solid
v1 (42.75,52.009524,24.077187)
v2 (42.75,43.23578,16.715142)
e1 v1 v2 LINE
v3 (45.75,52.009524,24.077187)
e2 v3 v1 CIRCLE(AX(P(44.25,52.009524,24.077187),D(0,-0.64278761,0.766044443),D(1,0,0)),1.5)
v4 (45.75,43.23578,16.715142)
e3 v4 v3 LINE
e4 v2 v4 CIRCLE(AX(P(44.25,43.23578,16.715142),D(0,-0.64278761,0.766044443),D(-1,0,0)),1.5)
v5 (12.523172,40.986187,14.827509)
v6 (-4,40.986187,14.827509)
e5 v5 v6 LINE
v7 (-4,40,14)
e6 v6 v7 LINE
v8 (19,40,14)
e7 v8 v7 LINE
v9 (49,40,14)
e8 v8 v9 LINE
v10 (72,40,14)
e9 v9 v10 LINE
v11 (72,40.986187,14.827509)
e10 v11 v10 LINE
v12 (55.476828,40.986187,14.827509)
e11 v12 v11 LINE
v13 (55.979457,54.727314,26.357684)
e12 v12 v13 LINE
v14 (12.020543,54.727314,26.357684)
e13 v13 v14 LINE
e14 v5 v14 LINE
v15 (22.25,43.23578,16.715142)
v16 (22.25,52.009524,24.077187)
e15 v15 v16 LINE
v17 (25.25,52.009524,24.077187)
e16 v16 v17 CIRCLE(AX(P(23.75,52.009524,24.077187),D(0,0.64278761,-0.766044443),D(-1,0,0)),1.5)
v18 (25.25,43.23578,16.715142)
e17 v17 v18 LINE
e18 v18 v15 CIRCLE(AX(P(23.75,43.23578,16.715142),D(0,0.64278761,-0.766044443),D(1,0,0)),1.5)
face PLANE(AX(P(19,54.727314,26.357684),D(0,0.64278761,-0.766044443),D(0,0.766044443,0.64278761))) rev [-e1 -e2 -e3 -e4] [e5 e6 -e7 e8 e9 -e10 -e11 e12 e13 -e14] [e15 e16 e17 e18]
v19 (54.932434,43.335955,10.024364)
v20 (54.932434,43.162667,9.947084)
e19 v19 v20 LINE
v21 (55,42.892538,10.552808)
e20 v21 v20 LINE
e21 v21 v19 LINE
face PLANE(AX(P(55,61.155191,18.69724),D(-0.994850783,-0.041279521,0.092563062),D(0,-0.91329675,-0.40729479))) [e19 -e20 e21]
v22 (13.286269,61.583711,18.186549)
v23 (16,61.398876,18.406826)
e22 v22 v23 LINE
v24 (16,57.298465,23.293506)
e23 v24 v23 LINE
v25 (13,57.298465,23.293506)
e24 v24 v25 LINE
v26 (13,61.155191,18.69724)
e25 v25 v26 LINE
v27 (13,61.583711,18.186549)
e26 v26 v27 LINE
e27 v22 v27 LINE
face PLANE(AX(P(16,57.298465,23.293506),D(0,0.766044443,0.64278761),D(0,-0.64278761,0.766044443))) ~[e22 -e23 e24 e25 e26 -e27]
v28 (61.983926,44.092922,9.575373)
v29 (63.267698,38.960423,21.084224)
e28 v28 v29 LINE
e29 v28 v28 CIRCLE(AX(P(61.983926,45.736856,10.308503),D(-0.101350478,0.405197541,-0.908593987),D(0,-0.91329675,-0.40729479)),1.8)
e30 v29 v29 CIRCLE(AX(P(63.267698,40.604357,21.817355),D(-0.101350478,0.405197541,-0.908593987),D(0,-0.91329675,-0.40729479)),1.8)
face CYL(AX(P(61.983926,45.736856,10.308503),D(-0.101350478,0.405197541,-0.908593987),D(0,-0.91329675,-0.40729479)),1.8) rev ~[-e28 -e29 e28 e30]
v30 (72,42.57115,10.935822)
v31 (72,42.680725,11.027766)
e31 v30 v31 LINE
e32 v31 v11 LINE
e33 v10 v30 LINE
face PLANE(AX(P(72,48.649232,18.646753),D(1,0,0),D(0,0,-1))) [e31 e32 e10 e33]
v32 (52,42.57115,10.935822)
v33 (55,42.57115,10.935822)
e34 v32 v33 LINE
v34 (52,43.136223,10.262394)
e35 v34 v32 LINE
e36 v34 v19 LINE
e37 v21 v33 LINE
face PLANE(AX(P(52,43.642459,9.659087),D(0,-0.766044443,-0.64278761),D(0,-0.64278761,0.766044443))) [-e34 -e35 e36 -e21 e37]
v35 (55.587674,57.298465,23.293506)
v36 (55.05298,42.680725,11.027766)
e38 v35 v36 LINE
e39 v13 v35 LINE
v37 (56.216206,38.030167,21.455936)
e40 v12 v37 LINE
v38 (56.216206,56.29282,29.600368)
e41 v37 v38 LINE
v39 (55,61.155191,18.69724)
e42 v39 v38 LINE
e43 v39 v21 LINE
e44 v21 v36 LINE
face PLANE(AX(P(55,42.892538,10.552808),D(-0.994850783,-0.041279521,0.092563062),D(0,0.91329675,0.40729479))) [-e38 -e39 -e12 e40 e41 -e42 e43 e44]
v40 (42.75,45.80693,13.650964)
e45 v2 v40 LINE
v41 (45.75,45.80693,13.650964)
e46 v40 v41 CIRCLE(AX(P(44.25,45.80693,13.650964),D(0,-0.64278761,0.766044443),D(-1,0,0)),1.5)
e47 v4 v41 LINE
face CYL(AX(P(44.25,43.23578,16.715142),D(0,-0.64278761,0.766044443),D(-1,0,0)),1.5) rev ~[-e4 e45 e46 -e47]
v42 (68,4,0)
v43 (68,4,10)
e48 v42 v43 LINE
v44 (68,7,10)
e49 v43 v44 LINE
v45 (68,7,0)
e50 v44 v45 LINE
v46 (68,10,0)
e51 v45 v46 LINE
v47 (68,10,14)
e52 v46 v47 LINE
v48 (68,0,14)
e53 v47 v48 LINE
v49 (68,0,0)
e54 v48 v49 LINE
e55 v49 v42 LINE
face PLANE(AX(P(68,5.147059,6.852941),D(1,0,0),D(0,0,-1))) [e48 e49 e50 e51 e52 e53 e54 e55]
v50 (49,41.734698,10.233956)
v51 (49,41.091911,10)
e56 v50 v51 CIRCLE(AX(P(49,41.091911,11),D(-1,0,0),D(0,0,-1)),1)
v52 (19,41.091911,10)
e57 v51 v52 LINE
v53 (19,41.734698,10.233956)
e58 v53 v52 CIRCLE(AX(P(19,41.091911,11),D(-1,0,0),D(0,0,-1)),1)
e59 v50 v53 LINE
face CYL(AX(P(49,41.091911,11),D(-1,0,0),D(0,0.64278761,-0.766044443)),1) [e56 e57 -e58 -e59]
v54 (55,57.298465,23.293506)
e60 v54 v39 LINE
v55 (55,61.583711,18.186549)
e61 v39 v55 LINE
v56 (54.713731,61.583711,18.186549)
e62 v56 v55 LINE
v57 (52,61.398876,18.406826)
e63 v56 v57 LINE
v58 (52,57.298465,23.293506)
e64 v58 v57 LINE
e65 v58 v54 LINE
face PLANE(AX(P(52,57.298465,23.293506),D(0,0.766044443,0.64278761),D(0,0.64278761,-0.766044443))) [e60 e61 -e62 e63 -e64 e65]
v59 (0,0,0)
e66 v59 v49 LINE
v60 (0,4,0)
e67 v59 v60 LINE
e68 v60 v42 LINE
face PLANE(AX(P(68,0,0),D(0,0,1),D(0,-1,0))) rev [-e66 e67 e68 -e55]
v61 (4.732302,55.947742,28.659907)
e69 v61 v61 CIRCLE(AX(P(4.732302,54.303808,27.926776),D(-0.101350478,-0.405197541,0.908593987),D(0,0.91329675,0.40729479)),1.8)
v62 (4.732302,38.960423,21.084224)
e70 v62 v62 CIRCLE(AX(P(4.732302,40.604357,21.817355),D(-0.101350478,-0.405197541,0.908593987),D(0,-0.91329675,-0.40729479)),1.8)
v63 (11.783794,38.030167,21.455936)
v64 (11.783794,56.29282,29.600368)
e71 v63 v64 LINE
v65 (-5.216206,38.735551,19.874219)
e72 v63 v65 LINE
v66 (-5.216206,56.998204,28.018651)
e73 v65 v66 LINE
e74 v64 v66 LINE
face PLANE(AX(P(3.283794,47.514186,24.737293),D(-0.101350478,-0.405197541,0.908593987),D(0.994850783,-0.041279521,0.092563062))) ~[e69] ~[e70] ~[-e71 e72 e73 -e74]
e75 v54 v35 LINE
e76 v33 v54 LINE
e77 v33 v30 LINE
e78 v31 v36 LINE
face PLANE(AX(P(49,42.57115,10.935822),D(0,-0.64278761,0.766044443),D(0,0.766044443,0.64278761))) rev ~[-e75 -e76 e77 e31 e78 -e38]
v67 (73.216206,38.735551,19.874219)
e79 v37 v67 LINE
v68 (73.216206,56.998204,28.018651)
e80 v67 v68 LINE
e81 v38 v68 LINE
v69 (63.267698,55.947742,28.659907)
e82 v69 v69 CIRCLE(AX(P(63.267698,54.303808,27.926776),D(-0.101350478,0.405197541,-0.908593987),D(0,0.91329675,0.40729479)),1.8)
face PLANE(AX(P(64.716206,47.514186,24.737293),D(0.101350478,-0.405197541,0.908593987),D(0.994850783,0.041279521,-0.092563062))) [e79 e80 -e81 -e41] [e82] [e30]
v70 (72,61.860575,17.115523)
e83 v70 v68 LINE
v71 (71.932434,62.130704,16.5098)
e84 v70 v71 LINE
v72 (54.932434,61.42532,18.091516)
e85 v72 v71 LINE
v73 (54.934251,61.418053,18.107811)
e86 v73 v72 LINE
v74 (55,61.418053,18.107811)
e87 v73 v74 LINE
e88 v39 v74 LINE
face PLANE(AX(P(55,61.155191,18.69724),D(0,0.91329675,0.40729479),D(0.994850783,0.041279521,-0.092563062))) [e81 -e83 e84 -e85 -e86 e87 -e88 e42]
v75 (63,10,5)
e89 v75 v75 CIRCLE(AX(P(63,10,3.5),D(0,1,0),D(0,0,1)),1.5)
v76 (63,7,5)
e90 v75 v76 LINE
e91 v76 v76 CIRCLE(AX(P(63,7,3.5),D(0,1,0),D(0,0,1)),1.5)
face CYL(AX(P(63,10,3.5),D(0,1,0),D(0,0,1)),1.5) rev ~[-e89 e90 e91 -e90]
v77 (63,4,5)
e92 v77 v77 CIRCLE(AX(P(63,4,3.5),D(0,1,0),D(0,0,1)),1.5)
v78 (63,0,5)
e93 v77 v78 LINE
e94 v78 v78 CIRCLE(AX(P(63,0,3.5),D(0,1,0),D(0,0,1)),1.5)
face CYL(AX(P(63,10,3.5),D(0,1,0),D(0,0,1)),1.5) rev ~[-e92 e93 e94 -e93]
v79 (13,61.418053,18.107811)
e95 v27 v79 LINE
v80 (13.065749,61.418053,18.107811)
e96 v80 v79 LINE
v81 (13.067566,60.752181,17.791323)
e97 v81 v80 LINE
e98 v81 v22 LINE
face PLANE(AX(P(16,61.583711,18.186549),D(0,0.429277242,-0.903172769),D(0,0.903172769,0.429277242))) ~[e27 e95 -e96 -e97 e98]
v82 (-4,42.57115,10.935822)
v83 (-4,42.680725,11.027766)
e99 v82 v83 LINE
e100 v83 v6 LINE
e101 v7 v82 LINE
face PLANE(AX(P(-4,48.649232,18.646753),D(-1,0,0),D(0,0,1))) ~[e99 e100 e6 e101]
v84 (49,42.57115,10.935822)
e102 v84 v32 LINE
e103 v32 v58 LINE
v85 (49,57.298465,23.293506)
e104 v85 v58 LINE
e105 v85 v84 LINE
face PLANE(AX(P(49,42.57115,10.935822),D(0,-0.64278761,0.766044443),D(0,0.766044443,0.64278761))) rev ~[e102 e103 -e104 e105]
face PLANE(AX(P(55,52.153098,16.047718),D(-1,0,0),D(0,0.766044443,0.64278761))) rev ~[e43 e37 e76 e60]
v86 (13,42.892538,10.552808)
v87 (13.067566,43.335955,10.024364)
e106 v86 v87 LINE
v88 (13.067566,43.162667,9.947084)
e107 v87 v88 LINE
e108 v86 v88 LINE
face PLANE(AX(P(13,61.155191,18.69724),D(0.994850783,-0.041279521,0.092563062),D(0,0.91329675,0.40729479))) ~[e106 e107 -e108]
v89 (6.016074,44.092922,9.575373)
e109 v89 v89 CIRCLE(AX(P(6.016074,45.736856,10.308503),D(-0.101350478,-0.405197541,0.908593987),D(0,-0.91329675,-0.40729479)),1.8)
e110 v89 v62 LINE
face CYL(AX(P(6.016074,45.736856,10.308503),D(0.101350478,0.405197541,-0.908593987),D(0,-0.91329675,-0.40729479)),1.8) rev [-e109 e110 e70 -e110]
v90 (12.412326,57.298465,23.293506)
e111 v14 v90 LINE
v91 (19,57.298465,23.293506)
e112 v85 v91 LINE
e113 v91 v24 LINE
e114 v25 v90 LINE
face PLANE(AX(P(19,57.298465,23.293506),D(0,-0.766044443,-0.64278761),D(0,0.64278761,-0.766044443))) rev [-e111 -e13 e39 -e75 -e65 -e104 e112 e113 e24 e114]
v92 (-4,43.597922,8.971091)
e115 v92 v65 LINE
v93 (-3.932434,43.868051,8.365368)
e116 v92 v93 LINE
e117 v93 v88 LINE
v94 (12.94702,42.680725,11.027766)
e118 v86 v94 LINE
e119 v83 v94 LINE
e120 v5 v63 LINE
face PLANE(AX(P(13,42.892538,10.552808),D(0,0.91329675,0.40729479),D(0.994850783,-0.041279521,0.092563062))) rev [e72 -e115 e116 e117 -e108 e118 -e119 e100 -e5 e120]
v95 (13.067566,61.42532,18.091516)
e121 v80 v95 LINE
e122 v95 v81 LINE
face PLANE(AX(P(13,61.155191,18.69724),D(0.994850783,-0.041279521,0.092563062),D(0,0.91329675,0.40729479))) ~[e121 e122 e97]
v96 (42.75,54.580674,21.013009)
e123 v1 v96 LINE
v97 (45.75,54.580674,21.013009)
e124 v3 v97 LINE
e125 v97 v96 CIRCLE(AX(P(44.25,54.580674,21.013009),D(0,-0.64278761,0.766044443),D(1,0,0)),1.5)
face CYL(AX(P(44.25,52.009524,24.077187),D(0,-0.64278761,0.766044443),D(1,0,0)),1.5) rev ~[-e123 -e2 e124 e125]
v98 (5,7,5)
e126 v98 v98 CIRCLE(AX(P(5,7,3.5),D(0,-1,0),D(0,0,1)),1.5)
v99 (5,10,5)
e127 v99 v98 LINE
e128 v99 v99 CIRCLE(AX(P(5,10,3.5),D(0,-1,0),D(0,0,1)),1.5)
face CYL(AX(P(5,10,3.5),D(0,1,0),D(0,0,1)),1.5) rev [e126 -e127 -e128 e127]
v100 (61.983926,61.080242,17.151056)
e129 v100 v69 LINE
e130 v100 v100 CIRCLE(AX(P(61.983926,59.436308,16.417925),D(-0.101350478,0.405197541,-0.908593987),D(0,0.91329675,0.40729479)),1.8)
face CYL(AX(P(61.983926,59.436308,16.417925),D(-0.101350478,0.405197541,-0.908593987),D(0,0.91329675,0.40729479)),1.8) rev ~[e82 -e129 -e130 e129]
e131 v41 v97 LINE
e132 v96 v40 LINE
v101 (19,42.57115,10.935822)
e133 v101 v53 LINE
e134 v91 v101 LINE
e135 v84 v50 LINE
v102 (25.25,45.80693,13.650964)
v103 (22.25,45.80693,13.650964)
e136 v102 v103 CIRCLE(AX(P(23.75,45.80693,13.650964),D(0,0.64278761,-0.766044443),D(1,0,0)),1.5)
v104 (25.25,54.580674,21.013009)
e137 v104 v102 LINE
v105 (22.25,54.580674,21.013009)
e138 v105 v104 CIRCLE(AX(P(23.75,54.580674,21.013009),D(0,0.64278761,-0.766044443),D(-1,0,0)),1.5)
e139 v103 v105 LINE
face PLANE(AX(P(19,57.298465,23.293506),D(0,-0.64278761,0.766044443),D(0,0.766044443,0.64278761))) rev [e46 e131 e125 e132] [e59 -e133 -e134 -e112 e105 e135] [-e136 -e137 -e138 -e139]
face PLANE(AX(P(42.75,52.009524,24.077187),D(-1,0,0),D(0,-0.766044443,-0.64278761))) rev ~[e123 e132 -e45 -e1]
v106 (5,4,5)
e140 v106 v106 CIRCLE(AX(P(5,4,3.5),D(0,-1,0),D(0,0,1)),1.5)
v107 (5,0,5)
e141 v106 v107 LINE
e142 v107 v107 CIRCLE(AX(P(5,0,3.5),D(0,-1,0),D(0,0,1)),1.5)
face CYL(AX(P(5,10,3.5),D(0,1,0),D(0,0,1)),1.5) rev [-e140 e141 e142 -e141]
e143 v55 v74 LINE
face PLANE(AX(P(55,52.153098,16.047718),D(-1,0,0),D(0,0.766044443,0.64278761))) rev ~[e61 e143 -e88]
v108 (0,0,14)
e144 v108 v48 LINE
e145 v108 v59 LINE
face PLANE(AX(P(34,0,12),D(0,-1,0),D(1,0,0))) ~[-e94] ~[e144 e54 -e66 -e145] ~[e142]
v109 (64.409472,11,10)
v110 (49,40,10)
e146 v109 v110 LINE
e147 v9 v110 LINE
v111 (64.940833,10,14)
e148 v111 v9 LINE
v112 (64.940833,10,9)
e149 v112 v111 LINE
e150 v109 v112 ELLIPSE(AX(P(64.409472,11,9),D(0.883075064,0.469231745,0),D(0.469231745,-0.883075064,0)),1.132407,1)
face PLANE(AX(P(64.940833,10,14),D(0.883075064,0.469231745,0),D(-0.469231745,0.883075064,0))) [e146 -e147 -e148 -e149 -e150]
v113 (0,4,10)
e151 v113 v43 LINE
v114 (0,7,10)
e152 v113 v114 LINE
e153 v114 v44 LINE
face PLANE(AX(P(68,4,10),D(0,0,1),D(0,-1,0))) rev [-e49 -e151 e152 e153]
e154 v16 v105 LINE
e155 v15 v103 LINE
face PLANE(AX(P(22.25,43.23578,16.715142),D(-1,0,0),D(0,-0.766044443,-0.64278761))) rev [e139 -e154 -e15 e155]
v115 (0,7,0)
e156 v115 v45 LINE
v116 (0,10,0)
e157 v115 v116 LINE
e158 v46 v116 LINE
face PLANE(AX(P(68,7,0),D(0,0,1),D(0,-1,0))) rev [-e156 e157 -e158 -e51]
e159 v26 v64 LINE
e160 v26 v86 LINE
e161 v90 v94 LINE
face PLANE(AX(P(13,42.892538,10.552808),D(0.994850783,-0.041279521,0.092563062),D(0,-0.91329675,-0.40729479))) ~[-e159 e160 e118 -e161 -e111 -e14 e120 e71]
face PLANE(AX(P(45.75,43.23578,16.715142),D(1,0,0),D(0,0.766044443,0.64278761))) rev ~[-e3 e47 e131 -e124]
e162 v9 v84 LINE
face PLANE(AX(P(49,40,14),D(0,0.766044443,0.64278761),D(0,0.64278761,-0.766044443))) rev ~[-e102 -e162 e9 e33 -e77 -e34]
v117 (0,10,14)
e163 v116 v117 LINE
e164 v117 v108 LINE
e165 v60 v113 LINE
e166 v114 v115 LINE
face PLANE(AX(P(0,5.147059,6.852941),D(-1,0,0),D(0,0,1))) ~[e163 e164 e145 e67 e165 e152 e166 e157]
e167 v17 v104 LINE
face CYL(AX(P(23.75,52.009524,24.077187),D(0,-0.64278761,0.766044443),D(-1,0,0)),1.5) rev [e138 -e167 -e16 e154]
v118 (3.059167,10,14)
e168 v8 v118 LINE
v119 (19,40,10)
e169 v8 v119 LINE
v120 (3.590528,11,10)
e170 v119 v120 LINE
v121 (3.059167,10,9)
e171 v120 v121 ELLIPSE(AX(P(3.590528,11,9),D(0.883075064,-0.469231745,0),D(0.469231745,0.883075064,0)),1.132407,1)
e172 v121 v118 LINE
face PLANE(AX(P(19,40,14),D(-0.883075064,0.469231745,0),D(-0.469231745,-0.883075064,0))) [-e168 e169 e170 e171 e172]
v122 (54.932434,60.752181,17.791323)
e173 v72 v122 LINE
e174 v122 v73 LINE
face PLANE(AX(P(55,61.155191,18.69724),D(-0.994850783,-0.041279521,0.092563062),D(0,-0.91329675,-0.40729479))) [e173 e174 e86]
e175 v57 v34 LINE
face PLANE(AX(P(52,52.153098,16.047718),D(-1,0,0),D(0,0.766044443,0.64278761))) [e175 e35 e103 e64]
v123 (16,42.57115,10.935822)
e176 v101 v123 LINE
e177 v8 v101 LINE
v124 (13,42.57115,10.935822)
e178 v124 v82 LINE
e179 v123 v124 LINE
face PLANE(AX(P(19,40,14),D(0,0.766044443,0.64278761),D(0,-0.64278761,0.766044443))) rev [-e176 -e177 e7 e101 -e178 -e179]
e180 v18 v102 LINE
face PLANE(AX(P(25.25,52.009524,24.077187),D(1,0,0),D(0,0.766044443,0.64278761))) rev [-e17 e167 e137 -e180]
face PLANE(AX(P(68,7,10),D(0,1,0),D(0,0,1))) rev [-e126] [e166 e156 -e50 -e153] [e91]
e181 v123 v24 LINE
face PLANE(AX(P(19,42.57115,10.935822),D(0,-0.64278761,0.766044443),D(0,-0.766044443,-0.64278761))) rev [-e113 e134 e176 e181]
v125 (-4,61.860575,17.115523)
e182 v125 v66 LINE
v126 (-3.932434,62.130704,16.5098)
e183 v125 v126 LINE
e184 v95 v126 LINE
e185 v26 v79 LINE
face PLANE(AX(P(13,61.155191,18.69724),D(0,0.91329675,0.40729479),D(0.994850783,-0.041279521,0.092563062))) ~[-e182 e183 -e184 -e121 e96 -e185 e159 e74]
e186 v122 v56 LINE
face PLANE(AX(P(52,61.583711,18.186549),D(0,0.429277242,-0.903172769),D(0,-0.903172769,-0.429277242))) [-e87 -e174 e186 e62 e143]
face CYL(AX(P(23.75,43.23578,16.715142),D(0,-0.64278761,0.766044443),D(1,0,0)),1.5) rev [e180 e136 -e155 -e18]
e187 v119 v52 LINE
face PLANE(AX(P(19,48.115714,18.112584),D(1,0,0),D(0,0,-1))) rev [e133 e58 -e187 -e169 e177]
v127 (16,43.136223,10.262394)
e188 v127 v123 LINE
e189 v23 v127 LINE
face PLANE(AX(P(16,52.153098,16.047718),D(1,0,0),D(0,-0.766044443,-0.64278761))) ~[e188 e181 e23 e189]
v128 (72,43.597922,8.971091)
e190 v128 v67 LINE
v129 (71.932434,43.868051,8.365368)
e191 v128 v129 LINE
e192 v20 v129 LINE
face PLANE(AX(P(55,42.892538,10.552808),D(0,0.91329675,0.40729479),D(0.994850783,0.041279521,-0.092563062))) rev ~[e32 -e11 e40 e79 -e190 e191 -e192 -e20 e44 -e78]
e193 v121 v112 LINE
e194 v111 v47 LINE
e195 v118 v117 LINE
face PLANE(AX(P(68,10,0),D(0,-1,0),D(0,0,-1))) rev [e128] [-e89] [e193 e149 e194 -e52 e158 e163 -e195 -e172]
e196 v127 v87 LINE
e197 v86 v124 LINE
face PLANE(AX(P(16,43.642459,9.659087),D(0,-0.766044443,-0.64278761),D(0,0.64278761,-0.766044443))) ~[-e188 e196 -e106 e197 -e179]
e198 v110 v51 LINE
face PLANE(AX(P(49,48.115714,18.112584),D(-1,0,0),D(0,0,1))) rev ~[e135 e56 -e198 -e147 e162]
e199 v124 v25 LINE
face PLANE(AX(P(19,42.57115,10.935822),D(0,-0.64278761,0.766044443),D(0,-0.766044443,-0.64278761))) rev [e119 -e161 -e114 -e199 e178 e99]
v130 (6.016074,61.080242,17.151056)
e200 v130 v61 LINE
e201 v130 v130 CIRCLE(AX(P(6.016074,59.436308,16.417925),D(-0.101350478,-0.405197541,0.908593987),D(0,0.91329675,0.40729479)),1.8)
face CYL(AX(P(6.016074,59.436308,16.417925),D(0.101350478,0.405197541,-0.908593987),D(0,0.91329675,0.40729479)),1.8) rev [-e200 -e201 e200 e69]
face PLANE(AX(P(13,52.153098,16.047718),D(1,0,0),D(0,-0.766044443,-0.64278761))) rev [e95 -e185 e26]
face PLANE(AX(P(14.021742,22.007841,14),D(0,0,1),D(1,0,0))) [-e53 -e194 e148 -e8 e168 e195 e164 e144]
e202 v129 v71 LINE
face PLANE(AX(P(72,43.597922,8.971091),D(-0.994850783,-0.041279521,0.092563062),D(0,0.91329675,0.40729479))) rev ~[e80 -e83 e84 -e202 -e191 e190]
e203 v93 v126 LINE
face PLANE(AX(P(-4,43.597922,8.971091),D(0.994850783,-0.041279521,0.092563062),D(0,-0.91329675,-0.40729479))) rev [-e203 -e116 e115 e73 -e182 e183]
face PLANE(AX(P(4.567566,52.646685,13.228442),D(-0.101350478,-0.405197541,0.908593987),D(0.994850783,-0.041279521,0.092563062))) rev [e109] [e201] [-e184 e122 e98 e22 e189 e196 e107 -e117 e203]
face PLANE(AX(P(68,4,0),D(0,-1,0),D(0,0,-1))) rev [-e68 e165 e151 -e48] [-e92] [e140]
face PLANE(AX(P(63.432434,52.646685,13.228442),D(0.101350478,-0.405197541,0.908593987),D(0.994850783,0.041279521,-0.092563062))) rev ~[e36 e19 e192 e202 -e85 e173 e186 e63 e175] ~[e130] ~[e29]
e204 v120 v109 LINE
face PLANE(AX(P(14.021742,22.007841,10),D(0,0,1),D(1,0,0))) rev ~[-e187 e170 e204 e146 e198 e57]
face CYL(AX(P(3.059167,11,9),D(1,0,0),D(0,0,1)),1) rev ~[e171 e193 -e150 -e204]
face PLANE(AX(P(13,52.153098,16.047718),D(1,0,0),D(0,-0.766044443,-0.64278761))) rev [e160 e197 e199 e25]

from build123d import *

# Parameters (mm, degrees)
EXTRUDE_1_DEPTH     = 68
SKETCH_2_R          = 1.5
CUT_EXTRUDE_1_DEPTH = 60
SKETCH_3_W          = 30
SKETCH_3_H          = 4
EXTRUDE_2_DEPTH     = 40
EXTRUDE_3_DEPTH     = 30
CUT_EXTRUDE_2_DEPTH = 4
EXTRUDE_4_DEPTH     = 23
EXTRUDE_START       = -53
EXTRUDE_5_DEPTH     = 23
EXTRUDE_6_DEPTH     = 3
EXTRUDE_7_DEPTH     = 0.66666
SKETCH_17_W         = 17.087989765
SKETCH_17_H         = 19.996406133
EXTRUDE_9_DEPTH     = 12
SKETCH_19_R         = 1.8
CUT_EXTRUDE_3_DEPTH = 20
SKETCH_20_W         = 61.603006609
SKETCH_20_H         = 84.586869481
CUT_EXTRUDE_4_DEPTH = 65
SKETCH_21_W         = 7.494214953
SKETCH_21_H         = 26.873102225
CUT_EXTRUDE_5_DEPTH = 2
SKETCH_22_W         = 9.970658679
SKETCH_22_H         = 25.794738871
CUT_EXTRUDE_6_DEPTH = 2
EXTRUDE_10_DEPTH    = 4
FILLET_1_R          = 1
FILLET_2_R          = 1


with BuildPart() as part:
    # 草图1 → 凸台-拉伸1 (new body)
    with BuildSketch(Plane(origin=(0, 0, 0), x_dir=(0, 0, -1), z_dir=(1, 0, 0))):
        Polygon((0, 0), (0, 4), (-10, 4), (-10, 7), (0, 7), (0, 10), (-14, 10), (-14, 0), align=None)
    extrude(amount=EXTRUDE_1_DEPTH)

    # 草图2 → 切除-拉伸1 (cut)
    with BuildSketch(Plane(origin=(0, 10, 0), x_dir=(1, 0, 0), z_dir=(0, 1, 0))):
        with Locations(Location((5, -3.5, 0), (0, 0, 270))):
            Circle(SKETCH_2_R)
        with Locations(Location((63, -3.5, 0), (0, 0, 270))):
            Circle(SKETCH_2_R)
    extrude(amount=-CUT_EXTRUDE_1_DEPTH, mode=Mode.SUBTRACT)

    # 草图3 → 凸台-拉伸2 (add)
    with BuildSketch(Plane.XZ):
        with Locations((34, 12)):
            Rectangle(SKETCH_3_W, SKETCH_3_H)
    extrude(amount=-EXTRUDE_2_DEPTH)

    # 草图4 → 凸台-拉伸3 (add)
    with BuildSketch(Plane(origin=(49, 0, 0), x_dir=(0, 0, -1), z_dir=(1, 0, 0))):
        Polygon((-14, 40), (-26.357684131, 54.727314459), (-23.293506358, 57.298464898), (-10, 41.455880937), (-10, 40), align=None)
    extrude(amount=-EXTRUDE_3_DEPTH)

    # 草图5 → 切除-拉伸2 (cut)
    with BuildSketch(Plane(origin=(0, 9.633382176, -11.480617817), x_dir=(1, 0, 0), z_dir=(0, -0.6427876096865429, 0.7660444431189751))):
        with BuildLine():
            Line((25.25, 55.318123989), (25.25, 43.864814933))
            ThreePointArc((25.25, 43.864814933), (23.75, 42.364814933), (22.25, 43.864814933))
            Line((22.25, 43.864814933), (22.25, 55.318123989))
            ThreePointArc((22.25, 55.318123989), (23.75, 56.818123989), (25.25, 55.318123989))
        make_face()
        with BuildLine():
            Line((42.75, 55.318123989), (42.75, 43.864814933))
            ThreePointArc((42.75, 43.864814933), (44.25, 42.364814933), (45.75, 43.864814933))
            Line((45.75, 43.864814933), (45.75, 55.318123989))
            ThreePointArc((45.75, 55.318123989), (44.25, 56.818123989), (42.75, 55.318123989))
        make_face()
    extrude(amount=-CUT_EXTRUDE_2_DEPTH, mode=Mode.SUBTRACT)

    # 草图6 → 凸台-拉伸4 (add)
    with BuildSketch(Plane.ZY.offset(-19)):
        Polygon((23.293506358, 57.298464898), (26.357684131, 54.727314459), (14, 40), (10.935822228, 42.571150439), align=None)
    extrude(amount=EXTRUDE_4_DEPTH)

    # 草图7 → 凸台-拉伸5 (add)
    with BuildSketch(Plane.ZY.offset(4).offset(EXTRUDE_START)):
        Polygon((23.293506358, 57.298464898), (26.357684131, 54.727314459), (14, 40), (10.935822228, 42.571150439), align=None)
    extrude(amount=-EXTRUDE_5_DEPTH)

    # 草图10 → 凸台-拉伸6 (add)
    with BuildSketch(Plane(origin=(52, 0, 0), x_dir=(0, 0.7660444431189749, 0.6427876096865431), z_dir=(-1, 0, 0))):
        Polygon((39.64080426, 18.986882184), (58.865947907, 18.986882184), (58.865947907, 25.653542184), (39.64080426, 20.653542184), align=None)
    extrude(amount=-EXTRUDE_6_DEPTH)

    # 草图15 → 凸台-拉伸7 (add)
    with BuildSketch(Plane(origin=(-0.224740323, 0.898508111, -2.01476807), x_dir=(0.9948507831271028, 0.04127952147527669, -0.09256306184522162), z_dir=(0.10135047760810084, -0.4051975406133526, 0.9085939873064868))):
        Polygon((55.510576319, 63.468125115), (55.510576319, 62.353864223), (55.510576319, 43.471718982), (72.598566084, 43.471718982), (72.598566084, 62.353864223), (72.598566084, 63.468125115), align=None)
    extrude(amount=-EXTRUDE_7_DEPTH)

    # 草图17 → 凸台-拉伸9 (add)
    with BuildSketch(Plane(origin=(-0.224740323, 0.898508111, -2.01476807), x_dir=(0.994850783127103, 0.04127952147527699, -0.09256306184522194), z_dir=(0.10135047760810126, -0.40519754061335256, 0.9085939873064869))):
        with Locations((64.054571201, 53.469922049)):
            Rectangle(SKETCH_17_W, SKETCH_17_H)
    extrude(amount=EXTRUDE_9_DEPTH)

    # 草图19 → 切除-拉伸3 (cut)
    with BuildSketch(Plane(origin=(-0.292306632, 1.168637103, -2.620491338), x_dir=(-0.9948507831271028, -0.04127952147527692, 0.09256306184522202), z_dir=(-0.10135047760810131, 0.40519754061335245, -0.908593987306487))):
        with Locations(Location((-62.598566084, 60.969922048, 0), (0, 0, 90))):
            Circle(SKETCH_19_R)
        with Locations(Location((-62.598566084, 45.969922048, 0), (0, 0, 270))):
            Circle(SKETCH_19_R)
    extrude(amount=-CUT_EXTRUDE_3_DEPTH, mode=Mode.SUBTRACT)

    # 草图20 → 切除-拉伸4 (cut)
    with BuildSketch(Plane.ZY.offset(-34)):
        with Locations((16.944749698, 32.191708304)):
            Rectangle(SKETCH_20_W, SKETCH_20_H)
    extrude(amount=CUT_EXTRUDE_4_DEPTH, mode=Mode.SUBTRACT)

    # 镜向7: part across plane


with BuildPart() as part_1:
    add(part.part)
    add(part.part.mirror(Plane.ZY.offset(-34)))

    # 草图21 → 切除-拉伸5 (cut)
    with BuildSketch(Plane(origin=(-0.292306632, 1.168637103, -2.620491338), x_dir=(-0.9948507831271028, -0.04127952147527692, 0.09256306184522202), z_dir=(-0.10135047760810131, 0.40519754061335245, -0.908593987306487))):
        with Locations((-54.514442647, 53.802326892)):
            Rectangle(SKETCH_21_W, SKETCH_21_H)
    extrude(amount=CUT_EXTRUDE_5_DEPTH, mode=Mode.SUBTRACT)

    # 草图22 → 切除-拉伸6 (cut)
    with BuildSketch(Plane(origin=(0.990797146, 3.961190673, -8.882368888), x_dir=(-0.9948507831271028, 0.04127952147527693, -0.09256306184522203), z_dir=(0.10135047760810131, 0.40519754061335256, -0.9085939873064868))):
        with Locations((-12.026553315, 54.032339334)):
            Rectangle(SKETCH_22_W, SKETCH_22_H)
    extrude(amount=CUT_EXTRUDE_6_DEPTH, mode=Mode.SUBTRACT)

    # 草图24 → 凸台-拉伸10 (add)
    with BuildSketch(Plane.XY.offset(14)):
        Polygon((19, 40), (3.059166743, 10), (8.395226669, 10), (19, 10), (19, 29.957752195), align=None)
        Polygon((49, 29.957752195), (49, 10), (59.604773331, 10), (64.940833257, 10), (49, 40), align=None)
    extrude(amount=-EXTRUDE_10_DEPTH)

    # 圆角1
    fillet_1_edges = [part_1.edges().sort_by_distance(p)[0] for p in [
        (34, 10, 10),
    ]]
    fillet(fillet_1_edges, radius=FILLET_1_R)

    # 圆角2
    fillet_2_edges = [part_1.edges().sort_by_distance(p)[0] for p in [
        (34, 41.455880937, 10),
    ]]
    fillet(fillet_2_edges, radius=FILLET_2_R)


solid = part_1.part
